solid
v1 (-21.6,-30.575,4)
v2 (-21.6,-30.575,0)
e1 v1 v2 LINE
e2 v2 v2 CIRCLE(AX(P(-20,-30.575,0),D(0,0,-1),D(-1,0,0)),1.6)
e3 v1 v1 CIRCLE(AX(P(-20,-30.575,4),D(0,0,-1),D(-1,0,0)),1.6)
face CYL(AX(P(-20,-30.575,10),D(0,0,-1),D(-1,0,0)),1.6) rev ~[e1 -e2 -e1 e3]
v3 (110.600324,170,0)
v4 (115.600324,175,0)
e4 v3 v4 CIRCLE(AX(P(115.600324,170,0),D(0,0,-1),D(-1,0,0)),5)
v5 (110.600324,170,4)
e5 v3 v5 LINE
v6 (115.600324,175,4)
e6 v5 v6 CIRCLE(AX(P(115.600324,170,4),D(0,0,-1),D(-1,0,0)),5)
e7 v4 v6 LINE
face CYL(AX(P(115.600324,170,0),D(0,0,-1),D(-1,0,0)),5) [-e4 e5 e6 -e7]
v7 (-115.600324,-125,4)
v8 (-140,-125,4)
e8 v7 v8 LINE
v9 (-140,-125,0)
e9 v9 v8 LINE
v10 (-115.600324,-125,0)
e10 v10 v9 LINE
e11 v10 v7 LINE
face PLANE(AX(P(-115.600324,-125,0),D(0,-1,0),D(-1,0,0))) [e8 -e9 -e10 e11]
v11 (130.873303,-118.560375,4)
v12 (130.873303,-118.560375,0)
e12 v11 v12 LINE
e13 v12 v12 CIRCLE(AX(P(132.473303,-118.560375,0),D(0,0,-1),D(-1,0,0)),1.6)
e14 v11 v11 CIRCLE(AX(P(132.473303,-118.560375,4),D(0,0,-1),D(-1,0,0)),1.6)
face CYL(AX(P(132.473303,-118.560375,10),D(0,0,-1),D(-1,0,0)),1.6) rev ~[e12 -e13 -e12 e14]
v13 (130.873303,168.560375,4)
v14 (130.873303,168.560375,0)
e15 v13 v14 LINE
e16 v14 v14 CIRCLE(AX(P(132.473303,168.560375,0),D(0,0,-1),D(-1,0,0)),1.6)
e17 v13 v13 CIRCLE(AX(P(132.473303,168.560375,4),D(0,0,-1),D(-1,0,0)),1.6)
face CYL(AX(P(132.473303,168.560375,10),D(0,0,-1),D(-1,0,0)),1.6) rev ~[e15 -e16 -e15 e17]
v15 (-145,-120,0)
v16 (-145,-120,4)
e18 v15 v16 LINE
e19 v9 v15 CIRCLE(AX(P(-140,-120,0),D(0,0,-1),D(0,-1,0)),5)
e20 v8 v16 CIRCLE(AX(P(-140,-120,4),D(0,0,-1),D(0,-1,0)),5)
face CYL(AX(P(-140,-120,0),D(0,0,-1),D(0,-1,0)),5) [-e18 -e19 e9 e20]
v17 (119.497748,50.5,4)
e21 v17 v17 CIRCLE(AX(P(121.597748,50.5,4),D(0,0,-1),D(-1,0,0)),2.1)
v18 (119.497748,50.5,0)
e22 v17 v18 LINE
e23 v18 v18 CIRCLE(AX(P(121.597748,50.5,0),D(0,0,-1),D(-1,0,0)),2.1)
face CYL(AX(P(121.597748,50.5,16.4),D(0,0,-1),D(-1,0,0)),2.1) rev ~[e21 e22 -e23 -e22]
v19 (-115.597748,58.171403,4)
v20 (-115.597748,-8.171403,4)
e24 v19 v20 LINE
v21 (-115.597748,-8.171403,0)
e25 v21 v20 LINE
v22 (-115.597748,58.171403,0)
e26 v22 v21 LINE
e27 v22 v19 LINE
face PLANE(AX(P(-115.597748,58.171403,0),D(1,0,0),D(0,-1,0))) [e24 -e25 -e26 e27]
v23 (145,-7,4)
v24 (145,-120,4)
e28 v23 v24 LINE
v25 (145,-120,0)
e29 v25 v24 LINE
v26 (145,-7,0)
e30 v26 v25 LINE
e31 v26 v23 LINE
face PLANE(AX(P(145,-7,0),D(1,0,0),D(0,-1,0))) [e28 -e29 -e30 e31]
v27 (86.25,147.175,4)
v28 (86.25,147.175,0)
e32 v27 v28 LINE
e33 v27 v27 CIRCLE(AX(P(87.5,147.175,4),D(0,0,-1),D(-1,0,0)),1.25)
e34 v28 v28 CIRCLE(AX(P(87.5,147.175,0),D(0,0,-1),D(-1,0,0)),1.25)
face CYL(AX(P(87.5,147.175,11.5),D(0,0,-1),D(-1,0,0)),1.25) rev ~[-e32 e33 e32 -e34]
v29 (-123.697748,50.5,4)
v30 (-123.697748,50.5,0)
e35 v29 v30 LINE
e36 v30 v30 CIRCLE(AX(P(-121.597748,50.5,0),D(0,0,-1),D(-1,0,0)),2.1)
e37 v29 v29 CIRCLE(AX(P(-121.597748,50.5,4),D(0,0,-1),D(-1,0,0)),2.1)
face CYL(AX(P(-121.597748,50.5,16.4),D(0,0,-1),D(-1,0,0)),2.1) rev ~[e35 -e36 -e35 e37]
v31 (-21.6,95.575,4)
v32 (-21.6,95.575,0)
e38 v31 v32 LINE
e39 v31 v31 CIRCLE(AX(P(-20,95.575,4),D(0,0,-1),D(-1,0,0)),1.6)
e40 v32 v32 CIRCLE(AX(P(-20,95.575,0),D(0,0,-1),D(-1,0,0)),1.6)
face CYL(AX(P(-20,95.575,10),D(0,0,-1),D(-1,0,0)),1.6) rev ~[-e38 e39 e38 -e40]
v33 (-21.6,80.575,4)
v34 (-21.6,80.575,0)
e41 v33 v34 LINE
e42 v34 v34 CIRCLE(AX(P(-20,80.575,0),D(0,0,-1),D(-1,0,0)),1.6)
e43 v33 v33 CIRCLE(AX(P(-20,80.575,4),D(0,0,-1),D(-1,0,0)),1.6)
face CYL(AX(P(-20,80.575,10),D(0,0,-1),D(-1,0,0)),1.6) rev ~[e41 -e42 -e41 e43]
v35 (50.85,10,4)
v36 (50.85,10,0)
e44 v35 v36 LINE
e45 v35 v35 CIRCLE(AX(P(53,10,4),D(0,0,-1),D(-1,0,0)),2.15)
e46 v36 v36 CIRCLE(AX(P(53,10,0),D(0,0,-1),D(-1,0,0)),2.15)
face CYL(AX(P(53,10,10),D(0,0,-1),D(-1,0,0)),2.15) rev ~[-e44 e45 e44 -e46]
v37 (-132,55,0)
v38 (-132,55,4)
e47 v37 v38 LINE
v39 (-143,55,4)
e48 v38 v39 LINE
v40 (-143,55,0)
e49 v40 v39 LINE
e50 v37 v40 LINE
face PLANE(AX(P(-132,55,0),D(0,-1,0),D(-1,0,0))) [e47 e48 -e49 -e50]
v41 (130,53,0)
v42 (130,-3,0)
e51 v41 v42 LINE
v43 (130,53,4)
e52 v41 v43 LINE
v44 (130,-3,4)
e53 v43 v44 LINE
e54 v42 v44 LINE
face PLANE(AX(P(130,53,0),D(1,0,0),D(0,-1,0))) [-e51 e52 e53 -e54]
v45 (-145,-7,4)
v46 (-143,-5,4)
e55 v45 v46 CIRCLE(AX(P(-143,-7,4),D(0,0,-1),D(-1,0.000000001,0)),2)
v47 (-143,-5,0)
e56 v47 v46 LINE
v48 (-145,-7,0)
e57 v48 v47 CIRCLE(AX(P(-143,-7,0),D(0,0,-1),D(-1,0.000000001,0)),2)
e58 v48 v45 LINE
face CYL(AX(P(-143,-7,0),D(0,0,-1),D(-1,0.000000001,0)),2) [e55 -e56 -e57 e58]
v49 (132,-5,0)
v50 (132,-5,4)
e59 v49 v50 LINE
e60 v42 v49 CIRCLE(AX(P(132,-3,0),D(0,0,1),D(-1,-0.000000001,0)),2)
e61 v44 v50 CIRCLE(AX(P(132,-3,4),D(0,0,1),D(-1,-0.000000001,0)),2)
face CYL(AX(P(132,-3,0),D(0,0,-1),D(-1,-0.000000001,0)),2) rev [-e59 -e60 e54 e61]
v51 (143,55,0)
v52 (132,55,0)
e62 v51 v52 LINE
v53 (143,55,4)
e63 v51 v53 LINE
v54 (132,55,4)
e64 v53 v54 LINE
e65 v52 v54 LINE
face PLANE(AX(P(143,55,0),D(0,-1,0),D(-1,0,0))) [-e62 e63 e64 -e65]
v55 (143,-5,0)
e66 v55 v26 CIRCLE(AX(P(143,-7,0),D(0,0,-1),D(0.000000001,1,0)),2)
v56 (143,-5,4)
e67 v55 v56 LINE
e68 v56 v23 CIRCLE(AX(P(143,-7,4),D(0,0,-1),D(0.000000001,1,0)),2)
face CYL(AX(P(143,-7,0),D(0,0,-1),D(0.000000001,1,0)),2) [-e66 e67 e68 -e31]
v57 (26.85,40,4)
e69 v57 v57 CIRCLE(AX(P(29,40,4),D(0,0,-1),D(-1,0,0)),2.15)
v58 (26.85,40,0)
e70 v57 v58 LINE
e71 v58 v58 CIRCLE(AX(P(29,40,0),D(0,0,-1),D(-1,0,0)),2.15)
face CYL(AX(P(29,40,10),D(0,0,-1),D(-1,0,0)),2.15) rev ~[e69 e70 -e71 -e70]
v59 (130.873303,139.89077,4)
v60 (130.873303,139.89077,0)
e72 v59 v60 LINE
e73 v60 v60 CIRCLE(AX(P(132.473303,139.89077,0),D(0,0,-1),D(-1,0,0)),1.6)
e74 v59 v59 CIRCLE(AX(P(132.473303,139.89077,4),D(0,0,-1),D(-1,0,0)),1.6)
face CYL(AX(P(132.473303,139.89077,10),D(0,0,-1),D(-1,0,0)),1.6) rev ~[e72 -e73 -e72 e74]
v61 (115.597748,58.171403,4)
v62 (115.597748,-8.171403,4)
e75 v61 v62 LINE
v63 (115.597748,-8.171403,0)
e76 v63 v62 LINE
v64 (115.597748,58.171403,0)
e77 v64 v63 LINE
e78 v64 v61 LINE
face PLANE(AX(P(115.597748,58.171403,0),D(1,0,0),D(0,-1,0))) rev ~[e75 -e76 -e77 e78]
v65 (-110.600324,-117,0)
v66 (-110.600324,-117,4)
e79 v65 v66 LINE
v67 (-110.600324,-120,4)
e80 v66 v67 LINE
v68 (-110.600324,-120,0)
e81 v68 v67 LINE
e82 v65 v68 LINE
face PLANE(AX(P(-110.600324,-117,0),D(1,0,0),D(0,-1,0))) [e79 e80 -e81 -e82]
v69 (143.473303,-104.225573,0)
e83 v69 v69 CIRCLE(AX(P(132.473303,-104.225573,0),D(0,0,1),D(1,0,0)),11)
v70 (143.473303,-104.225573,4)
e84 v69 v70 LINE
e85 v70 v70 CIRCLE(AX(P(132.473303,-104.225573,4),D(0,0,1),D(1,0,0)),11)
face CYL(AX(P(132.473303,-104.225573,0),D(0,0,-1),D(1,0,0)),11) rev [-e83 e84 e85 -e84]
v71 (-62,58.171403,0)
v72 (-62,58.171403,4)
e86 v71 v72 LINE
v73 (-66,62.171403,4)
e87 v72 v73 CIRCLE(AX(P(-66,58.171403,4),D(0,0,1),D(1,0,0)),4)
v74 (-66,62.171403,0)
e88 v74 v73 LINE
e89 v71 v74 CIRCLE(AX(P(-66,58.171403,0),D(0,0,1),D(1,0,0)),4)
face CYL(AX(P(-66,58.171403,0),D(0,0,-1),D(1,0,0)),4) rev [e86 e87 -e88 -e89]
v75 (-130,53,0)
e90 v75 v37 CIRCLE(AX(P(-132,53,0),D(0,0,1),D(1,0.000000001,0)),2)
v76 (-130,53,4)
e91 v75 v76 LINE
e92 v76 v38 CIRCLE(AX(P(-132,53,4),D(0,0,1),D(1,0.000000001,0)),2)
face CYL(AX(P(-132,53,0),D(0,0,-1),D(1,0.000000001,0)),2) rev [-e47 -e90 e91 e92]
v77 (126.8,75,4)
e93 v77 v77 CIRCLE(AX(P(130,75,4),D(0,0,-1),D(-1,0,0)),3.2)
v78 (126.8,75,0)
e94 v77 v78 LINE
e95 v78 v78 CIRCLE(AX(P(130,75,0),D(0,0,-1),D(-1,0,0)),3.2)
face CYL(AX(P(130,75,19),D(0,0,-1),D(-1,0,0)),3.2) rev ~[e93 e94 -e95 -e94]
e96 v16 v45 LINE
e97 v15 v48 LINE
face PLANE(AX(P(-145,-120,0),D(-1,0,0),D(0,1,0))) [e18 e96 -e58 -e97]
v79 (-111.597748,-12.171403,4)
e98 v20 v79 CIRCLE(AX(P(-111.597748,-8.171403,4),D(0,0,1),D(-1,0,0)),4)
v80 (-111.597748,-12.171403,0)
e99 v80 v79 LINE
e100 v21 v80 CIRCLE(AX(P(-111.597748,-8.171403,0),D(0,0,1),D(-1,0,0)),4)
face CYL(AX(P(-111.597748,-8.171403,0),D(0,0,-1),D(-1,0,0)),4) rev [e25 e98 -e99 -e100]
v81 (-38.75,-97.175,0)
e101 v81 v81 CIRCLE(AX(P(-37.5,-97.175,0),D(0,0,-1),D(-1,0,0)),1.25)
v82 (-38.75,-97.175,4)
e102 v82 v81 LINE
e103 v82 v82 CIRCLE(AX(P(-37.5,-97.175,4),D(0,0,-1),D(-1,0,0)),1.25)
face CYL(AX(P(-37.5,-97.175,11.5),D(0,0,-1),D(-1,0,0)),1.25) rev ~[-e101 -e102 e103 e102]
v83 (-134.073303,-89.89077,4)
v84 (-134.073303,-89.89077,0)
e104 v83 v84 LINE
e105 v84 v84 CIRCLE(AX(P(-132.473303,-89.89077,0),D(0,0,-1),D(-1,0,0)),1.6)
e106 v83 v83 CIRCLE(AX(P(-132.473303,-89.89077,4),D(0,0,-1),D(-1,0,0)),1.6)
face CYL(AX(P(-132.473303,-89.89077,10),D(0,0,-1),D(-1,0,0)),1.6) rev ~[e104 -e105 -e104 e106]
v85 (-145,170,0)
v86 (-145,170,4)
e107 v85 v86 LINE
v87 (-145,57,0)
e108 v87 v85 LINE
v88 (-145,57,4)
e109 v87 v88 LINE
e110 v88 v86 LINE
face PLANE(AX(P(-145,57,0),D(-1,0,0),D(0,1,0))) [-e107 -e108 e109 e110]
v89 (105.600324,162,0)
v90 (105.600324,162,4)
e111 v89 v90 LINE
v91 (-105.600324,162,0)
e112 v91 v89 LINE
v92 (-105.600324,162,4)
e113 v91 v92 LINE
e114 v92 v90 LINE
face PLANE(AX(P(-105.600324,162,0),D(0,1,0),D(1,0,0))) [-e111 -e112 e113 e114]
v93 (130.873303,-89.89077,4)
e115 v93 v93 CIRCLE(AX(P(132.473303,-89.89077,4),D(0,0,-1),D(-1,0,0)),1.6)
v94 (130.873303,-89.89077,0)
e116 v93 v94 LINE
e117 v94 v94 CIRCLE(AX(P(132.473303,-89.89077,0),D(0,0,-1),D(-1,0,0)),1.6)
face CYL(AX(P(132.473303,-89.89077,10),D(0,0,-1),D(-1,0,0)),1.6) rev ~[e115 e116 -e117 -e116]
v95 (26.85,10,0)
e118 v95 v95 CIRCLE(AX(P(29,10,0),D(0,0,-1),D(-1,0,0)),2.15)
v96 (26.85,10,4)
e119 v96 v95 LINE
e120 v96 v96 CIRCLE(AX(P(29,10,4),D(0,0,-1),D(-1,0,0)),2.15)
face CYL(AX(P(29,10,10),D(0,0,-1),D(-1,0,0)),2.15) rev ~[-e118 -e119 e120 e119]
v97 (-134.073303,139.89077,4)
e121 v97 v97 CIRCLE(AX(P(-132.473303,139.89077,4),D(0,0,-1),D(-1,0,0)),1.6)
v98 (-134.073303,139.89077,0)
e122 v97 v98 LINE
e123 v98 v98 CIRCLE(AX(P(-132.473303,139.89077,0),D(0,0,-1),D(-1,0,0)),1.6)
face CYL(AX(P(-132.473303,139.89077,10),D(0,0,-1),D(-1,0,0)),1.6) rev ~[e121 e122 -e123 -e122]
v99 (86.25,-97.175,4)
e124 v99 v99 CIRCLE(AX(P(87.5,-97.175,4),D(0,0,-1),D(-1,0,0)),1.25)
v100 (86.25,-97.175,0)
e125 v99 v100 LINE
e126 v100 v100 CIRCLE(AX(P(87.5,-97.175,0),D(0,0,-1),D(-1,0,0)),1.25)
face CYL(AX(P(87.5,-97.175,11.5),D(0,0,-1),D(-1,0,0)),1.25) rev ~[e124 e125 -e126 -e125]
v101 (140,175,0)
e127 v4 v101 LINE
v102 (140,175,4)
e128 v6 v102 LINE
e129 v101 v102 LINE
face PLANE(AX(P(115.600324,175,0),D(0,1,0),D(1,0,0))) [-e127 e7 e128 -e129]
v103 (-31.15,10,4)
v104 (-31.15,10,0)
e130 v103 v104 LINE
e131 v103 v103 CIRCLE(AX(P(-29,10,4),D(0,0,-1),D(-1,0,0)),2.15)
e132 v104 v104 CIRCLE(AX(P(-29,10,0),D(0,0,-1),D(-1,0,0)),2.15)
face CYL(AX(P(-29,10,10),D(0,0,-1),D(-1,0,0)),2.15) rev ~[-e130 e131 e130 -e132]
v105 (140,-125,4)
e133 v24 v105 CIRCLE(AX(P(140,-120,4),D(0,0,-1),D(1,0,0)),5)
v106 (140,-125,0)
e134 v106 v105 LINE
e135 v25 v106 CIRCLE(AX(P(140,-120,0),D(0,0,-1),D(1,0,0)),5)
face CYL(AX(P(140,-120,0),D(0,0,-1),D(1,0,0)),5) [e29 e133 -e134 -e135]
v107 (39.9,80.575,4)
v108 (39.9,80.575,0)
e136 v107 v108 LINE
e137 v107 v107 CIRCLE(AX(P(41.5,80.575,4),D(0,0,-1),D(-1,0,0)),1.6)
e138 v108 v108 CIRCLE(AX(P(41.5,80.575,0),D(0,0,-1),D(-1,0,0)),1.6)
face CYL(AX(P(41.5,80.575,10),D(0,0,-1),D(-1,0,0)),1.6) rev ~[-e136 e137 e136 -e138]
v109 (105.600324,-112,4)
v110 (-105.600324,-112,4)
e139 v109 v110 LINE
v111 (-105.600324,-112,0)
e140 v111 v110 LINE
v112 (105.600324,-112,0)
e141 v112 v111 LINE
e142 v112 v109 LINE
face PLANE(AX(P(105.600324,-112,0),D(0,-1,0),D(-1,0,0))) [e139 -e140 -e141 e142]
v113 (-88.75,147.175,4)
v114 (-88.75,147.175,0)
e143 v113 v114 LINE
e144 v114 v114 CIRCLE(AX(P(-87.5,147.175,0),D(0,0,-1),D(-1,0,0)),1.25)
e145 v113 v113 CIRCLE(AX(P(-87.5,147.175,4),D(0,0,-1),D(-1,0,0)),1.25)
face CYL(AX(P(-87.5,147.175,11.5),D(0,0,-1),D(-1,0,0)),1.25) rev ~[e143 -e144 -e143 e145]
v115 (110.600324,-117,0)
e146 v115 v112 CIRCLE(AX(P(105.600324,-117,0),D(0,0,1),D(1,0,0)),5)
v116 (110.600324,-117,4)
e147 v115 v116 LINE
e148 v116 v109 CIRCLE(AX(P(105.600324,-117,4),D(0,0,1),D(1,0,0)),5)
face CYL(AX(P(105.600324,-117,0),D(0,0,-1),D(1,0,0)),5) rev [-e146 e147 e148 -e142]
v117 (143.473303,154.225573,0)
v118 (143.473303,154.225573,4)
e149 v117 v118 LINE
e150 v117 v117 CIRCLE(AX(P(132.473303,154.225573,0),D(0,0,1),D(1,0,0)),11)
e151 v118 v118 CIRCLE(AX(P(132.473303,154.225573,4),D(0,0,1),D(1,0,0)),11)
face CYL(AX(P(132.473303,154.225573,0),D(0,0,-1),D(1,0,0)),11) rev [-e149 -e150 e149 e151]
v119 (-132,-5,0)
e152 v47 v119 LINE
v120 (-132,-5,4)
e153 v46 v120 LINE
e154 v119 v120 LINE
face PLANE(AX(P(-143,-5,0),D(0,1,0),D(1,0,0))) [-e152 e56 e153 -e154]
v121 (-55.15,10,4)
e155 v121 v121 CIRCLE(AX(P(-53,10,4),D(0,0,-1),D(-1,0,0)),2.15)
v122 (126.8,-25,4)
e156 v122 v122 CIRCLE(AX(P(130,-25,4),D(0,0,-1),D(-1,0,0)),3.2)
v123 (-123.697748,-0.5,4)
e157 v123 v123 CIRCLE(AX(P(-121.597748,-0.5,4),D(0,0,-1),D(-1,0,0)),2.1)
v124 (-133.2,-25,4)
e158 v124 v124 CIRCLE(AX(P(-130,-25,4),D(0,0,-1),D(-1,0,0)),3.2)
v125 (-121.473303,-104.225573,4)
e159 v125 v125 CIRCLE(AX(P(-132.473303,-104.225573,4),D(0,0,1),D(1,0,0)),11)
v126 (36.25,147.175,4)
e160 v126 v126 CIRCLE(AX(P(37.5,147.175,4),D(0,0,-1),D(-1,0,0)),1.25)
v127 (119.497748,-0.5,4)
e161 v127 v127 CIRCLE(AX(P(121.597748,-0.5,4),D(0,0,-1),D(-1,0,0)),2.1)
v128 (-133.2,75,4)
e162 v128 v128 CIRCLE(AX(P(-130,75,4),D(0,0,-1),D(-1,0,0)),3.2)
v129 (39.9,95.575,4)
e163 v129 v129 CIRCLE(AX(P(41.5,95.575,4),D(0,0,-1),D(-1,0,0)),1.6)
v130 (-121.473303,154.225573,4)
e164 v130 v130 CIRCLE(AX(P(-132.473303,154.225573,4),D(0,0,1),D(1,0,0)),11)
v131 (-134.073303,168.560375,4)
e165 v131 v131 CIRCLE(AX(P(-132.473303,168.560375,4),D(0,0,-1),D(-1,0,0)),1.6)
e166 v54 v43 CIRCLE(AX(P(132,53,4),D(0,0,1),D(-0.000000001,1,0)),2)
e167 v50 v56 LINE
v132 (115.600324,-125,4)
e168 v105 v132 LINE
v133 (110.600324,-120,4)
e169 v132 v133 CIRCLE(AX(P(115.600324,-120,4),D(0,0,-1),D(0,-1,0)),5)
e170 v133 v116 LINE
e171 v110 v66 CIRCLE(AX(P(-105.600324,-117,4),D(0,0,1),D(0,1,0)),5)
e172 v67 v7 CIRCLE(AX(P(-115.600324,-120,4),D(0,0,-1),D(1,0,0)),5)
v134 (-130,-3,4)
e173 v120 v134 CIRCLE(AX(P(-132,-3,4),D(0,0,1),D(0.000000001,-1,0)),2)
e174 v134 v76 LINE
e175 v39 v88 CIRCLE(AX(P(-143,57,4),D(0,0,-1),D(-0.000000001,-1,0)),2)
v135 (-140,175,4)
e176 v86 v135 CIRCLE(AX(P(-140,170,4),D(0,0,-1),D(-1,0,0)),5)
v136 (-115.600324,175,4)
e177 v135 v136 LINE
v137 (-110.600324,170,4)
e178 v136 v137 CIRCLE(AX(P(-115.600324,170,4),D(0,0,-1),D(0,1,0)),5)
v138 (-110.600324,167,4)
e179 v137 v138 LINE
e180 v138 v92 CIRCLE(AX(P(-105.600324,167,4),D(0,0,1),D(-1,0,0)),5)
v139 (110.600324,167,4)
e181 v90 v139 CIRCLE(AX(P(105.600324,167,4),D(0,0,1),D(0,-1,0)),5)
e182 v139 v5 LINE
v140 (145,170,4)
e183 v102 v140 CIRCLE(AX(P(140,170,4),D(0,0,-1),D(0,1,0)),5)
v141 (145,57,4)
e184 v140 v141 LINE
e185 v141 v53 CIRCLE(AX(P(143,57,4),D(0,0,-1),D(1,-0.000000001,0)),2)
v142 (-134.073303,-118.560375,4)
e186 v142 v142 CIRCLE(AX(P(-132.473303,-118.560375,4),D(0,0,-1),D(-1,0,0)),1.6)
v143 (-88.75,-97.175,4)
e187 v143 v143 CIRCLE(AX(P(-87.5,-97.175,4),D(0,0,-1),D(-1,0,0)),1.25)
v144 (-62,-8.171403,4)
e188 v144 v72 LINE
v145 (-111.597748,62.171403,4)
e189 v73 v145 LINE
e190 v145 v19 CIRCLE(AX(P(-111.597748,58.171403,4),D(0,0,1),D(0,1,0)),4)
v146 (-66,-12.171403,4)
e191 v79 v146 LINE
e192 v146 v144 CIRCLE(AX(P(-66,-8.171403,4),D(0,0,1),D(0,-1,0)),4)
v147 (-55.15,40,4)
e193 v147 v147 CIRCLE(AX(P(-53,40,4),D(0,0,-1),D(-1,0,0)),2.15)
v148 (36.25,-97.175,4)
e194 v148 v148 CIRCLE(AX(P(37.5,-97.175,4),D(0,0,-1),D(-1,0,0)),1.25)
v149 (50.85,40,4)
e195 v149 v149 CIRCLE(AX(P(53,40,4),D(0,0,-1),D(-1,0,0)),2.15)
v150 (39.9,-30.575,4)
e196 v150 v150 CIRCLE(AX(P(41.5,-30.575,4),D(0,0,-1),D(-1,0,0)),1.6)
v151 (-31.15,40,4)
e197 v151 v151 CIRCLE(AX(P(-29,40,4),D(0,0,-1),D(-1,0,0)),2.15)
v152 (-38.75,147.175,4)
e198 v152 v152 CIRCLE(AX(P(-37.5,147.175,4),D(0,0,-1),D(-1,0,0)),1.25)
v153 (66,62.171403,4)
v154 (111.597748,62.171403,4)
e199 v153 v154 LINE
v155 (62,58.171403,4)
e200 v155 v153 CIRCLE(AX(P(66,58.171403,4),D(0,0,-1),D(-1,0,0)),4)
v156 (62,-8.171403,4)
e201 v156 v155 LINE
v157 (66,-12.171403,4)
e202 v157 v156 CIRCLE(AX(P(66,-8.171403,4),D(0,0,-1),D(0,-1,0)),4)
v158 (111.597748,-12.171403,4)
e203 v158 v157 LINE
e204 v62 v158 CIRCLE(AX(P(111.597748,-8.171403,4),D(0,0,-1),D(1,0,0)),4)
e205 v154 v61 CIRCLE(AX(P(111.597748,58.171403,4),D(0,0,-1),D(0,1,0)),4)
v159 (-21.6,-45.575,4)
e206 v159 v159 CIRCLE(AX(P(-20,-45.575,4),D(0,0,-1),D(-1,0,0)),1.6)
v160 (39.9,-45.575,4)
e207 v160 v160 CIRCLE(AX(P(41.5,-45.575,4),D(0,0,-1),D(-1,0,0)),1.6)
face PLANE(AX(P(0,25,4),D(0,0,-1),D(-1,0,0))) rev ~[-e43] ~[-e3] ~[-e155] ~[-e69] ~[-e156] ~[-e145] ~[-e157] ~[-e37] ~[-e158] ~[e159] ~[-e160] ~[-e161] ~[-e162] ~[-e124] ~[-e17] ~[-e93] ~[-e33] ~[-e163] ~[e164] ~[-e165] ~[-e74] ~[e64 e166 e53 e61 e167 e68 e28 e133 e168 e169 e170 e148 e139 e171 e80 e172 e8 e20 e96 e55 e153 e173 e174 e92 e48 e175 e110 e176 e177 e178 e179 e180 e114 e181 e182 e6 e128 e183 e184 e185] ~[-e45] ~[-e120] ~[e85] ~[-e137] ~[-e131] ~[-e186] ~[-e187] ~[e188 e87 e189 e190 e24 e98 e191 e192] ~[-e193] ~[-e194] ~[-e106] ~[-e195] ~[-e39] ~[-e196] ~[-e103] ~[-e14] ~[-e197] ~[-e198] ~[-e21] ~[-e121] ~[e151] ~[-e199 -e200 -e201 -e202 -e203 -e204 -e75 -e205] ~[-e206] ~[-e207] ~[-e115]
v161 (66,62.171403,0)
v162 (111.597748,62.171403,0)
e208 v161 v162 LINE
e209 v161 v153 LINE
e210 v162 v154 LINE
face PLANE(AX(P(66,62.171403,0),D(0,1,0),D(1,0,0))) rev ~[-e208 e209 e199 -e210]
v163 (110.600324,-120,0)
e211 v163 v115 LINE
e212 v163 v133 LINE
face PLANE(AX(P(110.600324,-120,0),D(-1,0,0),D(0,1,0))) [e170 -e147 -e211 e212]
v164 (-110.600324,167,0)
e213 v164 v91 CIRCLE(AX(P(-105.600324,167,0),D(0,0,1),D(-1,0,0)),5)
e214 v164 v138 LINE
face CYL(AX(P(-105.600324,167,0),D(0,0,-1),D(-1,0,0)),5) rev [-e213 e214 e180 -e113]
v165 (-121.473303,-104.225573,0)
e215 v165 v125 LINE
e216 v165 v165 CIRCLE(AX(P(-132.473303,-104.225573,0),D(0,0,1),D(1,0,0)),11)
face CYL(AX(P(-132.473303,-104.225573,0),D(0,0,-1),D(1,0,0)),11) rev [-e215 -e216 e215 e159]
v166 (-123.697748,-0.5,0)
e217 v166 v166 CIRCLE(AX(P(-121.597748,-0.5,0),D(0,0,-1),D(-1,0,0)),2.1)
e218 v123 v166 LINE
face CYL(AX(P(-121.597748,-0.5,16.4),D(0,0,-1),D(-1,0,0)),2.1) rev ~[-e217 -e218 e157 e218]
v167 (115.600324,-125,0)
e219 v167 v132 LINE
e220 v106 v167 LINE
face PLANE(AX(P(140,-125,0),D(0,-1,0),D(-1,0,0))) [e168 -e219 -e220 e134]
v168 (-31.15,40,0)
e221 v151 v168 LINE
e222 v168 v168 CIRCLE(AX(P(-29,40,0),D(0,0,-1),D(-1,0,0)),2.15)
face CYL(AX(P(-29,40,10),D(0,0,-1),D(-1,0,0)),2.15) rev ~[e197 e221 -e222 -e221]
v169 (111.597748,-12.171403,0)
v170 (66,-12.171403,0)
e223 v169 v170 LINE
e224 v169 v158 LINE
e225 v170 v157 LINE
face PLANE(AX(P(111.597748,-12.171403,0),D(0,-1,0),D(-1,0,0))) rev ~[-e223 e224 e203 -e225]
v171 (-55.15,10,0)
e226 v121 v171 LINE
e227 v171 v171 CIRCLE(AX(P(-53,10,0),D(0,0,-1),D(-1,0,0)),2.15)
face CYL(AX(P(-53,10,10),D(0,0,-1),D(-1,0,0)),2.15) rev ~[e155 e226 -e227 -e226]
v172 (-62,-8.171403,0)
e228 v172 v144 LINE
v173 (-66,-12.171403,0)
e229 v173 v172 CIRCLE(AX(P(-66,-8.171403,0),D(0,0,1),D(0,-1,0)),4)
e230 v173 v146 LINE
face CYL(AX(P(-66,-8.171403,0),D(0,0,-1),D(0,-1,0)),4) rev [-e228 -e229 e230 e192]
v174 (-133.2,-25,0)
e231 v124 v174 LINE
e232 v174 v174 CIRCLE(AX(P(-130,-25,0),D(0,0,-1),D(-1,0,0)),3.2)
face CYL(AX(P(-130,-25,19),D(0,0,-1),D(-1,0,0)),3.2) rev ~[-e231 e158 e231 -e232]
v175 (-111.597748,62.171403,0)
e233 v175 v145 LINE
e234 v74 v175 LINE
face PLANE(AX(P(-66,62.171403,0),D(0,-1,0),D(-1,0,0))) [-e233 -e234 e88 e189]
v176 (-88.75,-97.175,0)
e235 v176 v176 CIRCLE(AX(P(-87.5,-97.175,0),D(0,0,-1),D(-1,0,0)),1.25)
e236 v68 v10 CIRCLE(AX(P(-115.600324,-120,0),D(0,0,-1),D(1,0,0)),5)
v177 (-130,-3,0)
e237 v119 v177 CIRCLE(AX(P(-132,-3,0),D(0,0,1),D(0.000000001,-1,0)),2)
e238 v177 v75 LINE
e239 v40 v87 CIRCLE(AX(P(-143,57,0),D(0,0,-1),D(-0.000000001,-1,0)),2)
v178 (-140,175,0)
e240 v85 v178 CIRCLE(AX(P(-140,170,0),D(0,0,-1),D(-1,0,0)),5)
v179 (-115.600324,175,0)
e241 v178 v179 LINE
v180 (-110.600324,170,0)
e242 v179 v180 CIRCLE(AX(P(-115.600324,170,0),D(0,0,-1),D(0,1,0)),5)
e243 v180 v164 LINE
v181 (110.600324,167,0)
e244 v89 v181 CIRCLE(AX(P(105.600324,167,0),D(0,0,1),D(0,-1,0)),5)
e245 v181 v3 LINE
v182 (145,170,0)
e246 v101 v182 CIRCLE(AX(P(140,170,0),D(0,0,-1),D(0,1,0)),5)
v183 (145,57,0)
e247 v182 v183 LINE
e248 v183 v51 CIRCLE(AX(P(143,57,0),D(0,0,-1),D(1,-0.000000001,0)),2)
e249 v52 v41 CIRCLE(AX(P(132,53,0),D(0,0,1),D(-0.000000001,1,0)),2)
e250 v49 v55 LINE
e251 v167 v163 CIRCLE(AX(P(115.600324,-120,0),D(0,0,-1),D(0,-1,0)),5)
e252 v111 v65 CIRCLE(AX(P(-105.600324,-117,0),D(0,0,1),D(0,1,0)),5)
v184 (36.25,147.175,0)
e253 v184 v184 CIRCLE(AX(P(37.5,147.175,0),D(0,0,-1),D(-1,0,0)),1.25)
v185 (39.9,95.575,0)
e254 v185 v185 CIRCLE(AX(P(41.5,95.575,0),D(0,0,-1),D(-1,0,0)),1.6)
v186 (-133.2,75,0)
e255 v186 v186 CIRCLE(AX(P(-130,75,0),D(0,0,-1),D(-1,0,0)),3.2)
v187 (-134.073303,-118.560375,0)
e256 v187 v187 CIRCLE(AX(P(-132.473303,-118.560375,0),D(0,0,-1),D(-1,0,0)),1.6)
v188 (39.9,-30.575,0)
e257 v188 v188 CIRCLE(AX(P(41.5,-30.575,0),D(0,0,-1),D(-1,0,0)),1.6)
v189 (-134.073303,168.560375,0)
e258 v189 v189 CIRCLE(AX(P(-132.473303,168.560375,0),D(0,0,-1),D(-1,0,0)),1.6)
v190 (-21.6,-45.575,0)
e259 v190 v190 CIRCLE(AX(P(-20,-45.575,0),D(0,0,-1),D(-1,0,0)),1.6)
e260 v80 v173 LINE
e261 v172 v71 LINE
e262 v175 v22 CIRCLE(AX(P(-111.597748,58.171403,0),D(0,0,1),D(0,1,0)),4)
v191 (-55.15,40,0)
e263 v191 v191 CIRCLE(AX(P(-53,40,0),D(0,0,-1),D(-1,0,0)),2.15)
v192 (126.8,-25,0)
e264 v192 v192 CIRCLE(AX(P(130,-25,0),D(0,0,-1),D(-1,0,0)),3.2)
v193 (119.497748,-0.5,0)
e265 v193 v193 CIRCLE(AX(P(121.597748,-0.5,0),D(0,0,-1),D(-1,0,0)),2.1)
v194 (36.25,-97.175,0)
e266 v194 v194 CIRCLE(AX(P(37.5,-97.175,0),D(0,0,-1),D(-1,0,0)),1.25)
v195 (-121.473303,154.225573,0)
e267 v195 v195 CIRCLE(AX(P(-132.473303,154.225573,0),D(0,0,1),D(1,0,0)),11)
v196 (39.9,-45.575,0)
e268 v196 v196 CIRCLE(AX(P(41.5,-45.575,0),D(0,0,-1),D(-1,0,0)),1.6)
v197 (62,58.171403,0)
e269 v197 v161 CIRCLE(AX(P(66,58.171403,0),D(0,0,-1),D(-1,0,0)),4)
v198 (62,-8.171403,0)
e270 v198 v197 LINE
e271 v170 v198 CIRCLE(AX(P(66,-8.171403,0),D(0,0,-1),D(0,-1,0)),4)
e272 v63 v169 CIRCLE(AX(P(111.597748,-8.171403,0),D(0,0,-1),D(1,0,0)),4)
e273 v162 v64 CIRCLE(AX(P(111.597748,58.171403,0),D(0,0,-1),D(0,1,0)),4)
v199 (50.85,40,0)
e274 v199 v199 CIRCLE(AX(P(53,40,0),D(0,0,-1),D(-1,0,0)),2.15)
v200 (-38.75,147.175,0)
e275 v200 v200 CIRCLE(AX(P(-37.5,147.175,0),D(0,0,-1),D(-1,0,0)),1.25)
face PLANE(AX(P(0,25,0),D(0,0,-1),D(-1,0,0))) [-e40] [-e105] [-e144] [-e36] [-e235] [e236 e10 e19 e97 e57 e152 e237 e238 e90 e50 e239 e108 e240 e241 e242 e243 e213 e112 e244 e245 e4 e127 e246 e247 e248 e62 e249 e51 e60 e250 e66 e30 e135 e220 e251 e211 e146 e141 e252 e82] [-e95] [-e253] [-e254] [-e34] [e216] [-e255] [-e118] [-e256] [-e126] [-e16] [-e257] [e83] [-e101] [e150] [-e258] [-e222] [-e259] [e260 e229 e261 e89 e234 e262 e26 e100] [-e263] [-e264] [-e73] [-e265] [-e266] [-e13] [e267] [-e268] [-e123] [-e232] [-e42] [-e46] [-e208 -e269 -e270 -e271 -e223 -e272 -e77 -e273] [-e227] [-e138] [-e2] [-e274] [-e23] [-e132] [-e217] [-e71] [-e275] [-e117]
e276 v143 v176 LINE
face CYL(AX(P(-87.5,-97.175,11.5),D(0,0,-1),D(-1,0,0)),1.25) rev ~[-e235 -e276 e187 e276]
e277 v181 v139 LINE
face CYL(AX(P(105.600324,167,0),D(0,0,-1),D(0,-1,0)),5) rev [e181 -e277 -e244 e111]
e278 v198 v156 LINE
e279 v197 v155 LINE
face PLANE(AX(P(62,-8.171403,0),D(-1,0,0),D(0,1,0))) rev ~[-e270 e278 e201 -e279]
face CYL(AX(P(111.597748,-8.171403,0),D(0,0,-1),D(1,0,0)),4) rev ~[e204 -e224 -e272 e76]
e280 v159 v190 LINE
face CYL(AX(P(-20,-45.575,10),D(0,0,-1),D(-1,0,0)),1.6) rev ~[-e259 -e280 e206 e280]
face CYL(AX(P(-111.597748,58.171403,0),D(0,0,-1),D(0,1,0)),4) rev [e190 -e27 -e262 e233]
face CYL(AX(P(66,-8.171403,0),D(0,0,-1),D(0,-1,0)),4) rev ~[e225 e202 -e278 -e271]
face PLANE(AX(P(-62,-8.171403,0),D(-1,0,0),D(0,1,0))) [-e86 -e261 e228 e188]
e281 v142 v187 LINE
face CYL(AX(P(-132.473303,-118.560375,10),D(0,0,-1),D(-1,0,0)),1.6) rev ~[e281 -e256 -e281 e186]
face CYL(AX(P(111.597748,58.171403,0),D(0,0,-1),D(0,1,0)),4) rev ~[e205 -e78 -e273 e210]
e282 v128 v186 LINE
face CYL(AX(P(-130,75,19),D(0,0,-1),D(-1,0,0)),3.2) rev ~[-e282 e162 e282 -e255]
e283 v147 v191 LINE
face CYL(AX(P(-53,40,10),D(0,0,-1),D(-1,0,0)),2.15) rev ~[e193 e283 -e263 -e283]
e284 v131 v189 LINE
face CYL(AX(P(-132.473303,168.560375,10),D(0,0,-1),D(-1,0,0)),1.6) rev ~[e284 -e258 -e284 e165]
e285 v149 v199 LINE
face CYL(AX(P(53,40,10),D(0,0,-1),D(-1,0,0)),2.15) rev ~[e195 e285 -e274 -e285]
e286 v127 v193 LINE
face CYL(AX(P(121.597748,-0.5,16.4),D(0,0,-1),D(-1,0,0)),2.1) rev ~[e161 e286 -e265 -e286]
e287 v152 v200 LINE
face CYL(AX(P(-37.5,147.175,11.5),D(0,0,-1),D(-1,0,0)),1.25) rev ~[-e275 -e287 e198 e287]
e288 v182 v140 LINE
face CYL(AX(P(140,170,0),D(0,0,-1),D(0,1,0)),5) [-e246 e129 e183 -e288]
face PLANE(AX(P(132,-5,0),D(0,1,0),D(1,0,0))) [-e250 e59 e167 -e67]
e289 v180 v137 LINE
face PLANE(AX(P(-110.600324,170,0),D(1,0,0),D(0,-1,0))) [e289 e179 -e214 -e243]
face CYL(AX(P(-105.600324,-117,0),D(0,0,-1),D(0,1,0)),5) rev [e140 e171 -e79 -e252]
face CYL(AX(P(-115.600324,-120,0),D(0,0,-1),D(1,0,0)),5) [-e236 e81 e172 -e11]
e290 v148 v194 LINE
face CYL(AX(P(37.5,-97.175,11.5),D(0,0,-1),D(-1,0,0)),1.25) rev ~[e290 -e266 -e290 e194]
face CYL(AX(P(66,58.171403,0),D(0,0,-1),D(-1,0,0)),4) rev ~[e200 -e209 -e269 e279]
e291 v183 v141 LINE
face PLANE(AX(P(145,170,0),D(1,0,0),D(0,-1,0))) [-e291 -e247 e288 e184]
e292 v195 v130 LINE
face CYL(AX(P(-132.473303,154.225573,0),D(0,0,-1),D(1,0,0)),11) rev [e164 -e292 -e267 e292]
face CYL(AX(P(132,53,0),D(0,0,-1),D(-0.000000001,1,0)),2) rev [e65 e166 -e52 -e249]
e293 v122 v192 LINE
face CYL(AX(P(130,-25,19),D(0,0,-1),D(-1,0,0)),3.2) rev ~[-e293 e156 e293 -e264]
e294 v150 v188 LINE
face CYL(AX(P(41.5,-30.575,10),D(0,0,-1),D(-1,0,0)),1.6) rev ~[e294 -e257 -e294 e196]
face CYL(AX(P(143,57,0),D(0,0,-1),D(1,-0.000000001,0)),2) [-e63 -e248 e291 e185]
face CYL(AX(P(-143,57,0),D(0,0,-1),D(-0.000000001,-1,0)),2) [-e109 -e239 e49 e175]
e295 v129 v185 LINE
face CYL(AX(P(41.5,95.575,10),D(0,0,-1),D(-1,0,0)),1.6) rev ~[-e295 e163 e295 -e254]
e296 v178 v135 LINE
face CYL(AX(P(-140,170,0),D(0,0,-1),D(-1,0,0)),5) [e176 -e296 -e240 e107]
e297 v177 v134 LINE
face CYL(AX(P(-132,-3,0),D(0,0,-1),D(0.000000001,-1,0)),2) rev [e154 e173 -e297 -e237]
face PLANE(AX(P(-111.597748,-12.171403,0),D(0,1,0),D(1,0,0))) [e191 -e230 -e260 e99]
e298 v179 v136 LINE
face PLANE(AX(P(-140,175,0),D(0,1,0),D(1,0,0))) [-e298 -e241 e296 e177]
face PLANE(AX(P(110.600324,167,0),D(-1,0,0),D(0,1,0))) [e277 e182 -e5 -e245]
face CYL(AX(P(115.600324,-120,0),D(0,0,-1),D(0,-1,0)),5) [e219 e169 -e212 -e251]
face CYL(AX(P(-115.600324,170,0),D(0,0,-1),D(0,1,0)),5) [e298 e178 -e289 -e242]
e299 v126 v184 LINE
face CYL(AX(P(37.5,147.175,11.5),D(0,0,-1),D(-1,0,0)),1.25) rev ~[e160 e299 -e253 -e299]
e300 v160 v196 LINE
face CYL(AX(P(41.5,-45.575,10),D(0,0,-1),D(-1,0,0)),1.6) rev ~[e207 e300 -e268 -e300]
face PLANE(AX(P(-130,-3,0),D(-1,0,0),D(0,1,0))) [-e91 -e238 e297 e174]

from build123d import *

# Parameters (mm, degrees)
SKETCH2_R                = 1.5
SKETCH2_R_2              = 11
SKETCH2_R_3              = 1.65
SKETCH2_R_4              = 1
BOSS_EXTRUDE1_DEPTH      = 4
M4_CLEARANCE_HOLE1_D     = 4.3
M4_CLEARANCE_HOLE1_DEPTH = 6
M4_CLEARANCE_HOLE1_TIP   = 1.291850331
M3_CLEARANCE_HOLE2_D     = 3.2
M3_CLEARANCE_HOLE2_DEPTH = 6
M3_CLEARANCE_HOLE2_TIP   = 0.96137699
M5_TAPPED_HOLE1_D        = 4.2
M5_TAPPED_HOLE1_DEPTH    = 12.4
M5_TAPPED_HOLE1_TIP      = 1.2618073
M6_CLEARANCE_HOLE1_D     = 6.4
M6_CLEARANCE_HOLE1_DEPTH = 15
M6_CLEARANCE_HOLE1_TIP   = 1.922753981
M3_TAPPED_HOLE2_D        = 2.5
M3_TAPPED_HOLE2_DEPTH    = 7.5
M3_TAPPED_HOLE2_TIP      = 0.751075774


with BuildPart() as part:
    # Sketch2 → Boss-Extrude1 (new body)
    with BuildSketch(Plane.XY):
        with BuildLine():
            Line((-140, 175), (-115.60032364, 175))
            ThreePointArc((-115.60032364, 175), (-112.064789734, 173.535533906), (-110.60032364, 170))
            Line((-110.60032364, 170), (-110.60032364, 167))
            ThreePointArc((-110.60032364, 167), (-109.135857546, 163.464466094), (-105.60032364, 162))
            Line((-105.60032364, 162), (105.60032364, 162))
            ThreePointArc((105.60032364, 162), (109.135857546, 163.464466094), (110.60032364, 167))
            Line((110.60032364, 167), (110.60032364, 170))
            ThreePointArc((110.60032364, 170), (112.064789734, 173.535533906), (115.60032364, 175))
            Line((115.60032364, 175), (140, 175))
            ThreePointArc((140, 175), (143.535533906, 173.535533906), (145, 170))
            Line((145, 170), (145, 57))
            ThreePointArc((145, 57), (144.414213562, 55.585786438), (143, 55))
            Line((143, 55), (132, 55))
            ThreePointArc((132, 55), (130.585786438, 54.414213562), (130, 53))
            Line((130, 53), (130, -3))
            ThreePointArc((130, -3), (130.585786438, -4.414213562), (132, -5))
            Line((132, -5), (143, -5))
            ThreePointArc((143, -5), (144.414213562, -5.585786438), (145, -7))
            Line((145, -7), (145, -120))
            ThreePointArc((145, -120), (143.535533906, -123.535533906), (140, -125))
            Line((140, -125), (115.60032364, -125))
            ThreePointArc((115.60032364, -125), (112.064789734, -123.535533906), (110.60032364, -120))
            Line((110.60032364, -120), (110.60032364, -117))
            ThreePointArc((110.60032364, -117), (109.135857546, -113.464466094), (105.60032364, -112))
            Line((105.60032364, -112), (-105.60032364, -112))
            ThreePointArc((-105.60032364, -112), (-109.135857546, -113.464466094), (-110.60032364, -117))
            Line((-110.60032364, -117), (-110.60032364, -120))
            ThreePointArc((-110.60032364, -120), (-112.064789734, -123.535533906), (-115.60032364, -125))
            Line((-115.60032364, -125), (-140, -125))
            ThreePointArc((-140, -125), (-143.535533906, -123.535533906), (-145, -120))
            Line((-145, -120), (-145, -7))
            ThreePointArc((-145, -7), (-144.414213562, -5.585786438), (-143, -5))
            Line((-143, -5), (-132, -5))
            ThreePointArc((-132, -5), (-130.585786438, -4.414213562), (-130, -3))
            Line((-130, -3), (-130, 53))
            ThreePointArc((-130, 53), (-130.585786438, 54.414213562), (-132, 55))
            Line((-132, 55), (-143, 55))
            ThreePointArc((-143, 55), (-144.414213562, 55.585786438), (-145, 57))
            Line((-145, 57), (-145, 170))
            ThreePointArc((-145, 170), (-143.535533906, 173.535533906), (-140, 175))
        make_face()
        with Locations((-132.473303105, 168.56037538)):
            Circle(SKETCH2_R, mode=Mode.SUBTRACT)
        with Locations((-132.473303105, 139.890769728)):
            Circle(SKETCH2_R, mode=Mode.SUBTRACT)
        with Locations((132.473303105, 168.56037538)):
            Circle(SKETCH2_R, mode=Mode.SUBTRACT)
        with Locations((132.473303105, 139.890769728)):
            Circle(SKETCH2_R, mode=Mode.SUBTRACT)
        with Locations((132.473303105, 154.225572554)):
            Circle(SKETCH2_R_2, mode=Mode.SUBTRACT)
        with Locations((-132.473303105, 154.225572554)):
            Circle(SKETCH2_R_2, mode=Mode.SUBTRACT)
        with Locations((121.59774802, -0.5)):
            Circle(SKETCH2_R_3, mode=Mode.SUBTRACT)
        with Locations((121.59774802, 50.5)):
            Circle(SKETCH2_R_3, mode=Mode.SUBTRACT)
        with Locations((-121.59774802, -0.5)):
            Circle(SKETCH2_R_3, mode=Mode.SUBTRACT)
        with Locations((-121.59774802, 50.5)):
            Circle(SKETCH2_R_3, mode=Mode.SUBTRACT)
        with Locations((-29, 10)):
            Circle(SKETCH2_R, mode=Mode.SUBTRACT)
        with Locations((-29, 40)):
            Circle(SKETCH2_R, mode=Mode.SUBTRACT)
        with Locations((-53, 40)):
            Circle(SKETCH2_R, mode=Mode.SUBTRACT)
        with Locations((-53, 10)):
            Circle(SKETCH2_R, mode=Mode.SUBTRACT)
        with Locations((53, 10)):
            Circle(SKETCH2_R, mode=Mode.SUBTRACT)
        with Locations((29, 10)):
            Circle(SKETCH2_R, mode=Mode.SUBTRACT)
        with Locations((29, 40)):
            Circle(SKETCH2_R, mode=Mode.SUBTRACT)
        with Locations((53, 40)):
            Circle(SKETCH2_R, mode=Mode.SUBTRACT)
        with Locations((132.473303105, -118.56037538)):
            Circle(SKETCH2_R, mode=Mode.SUBTRACT)
        with Locations((132.473303105, -89.890769728)):
            Circle(SKETCH2_R, mode=Mode.SUBTRACT)
        with Locations((132.473303105, -104.225572554)):
            Circle(SKETCH2_R_2, mode=Mode.SUBTRACT)
        with Locations((-132.473303105, -104.225572554)):
            Circle(SKETCH2_R_2, mode=Mode.SUBTRACT)
        with Locations((-132.473303105, -89.890769728)):
            Circle(SKETCH2_R, mode=Mode.SUBTRACT)
        with Locations((-132.473303105, -118.56037538)):
            Circle(SKETCH2_R, mode=Mode.SUBTRACT)
        with Locations((130, 75)):
            Circle(SKETCH2_R, mode=Mode.SUBTRACT)
        with Locations((41.5, 95.575)):
            Circle(SKETCH2_R_4, mode=Mode.SUBTRACT)
        with Locations((41.5, 80.575)):
            Circle(SKETCH2_R_4, mode=Mode.SUBTRACT)
        with Locations((-20, 80.575)):
            Circle(SKETCH2_R_4, mode=Mode.SUBTRACT)
        with Locations((-20, 95.575)):
            Circle(SKETCH2_R_4, mode=Mode.SUBTRACT)
        with Locations((-20, -45.575)):
            Circle(SKETCH2_R_4, mode=Mode.SUBTRACT)
        with Locations((-20, -30.575)):
            Circle(SKETCH2_R_4, mode=Mode.SUBTRACT)
        with Locations((41.5, -30.575)):
            Circle(SKETCH2_R_4, mode=Mode.SUBTRACT)
        with Locations((41.5, -45.575)):
            Circle(SKETCH2_R_4, mode=Mode.SUBTRACT)
        with Locations((130, -25)):
            Circle(SKETCH2_R, mode=Mode.SUBTRACT)
        with Locations((-130, 75)):
            Circle(SKETCH2_R, mode=Mode.SUBTRACT)
        with Locations((-130, -25)):
            Circle(SKETCH2_R, mode=Mode.SUBTRACT)
        with Locations((87.5, 147.175)):
            Circle(SKETCH2_R_4, mode=Mode.SUBTRACT)
        with Locations((37.5, 147.175)):
            Circle(SKETCH2_R_4, mode=Mode.SUBTRACT)
        with Locations((-37.5, 147.175)):
            Circle(SKETCH2_R_4, mode=Mode.SUBTRACT)
        with Locations((-87.5, 147.175)):
            Circle(SKETCH2_R_4, mode=Mode.SUBTRACT)
        with Locations((-87.5, -97.175)):
            Circle(SKETCH2_R_4, mode=Mode.SUBTRACT)
        with Locations((-37.5, -97.175)):
            Circle(SKETCH2_R_4, mode=Mode.SUBTRACT)
        with Locations((37.5, -97.175)):
            Circle(SKETCH2_R_4, mode=Mode.SUBTRACT)
        with Locations((87.5, -97.175)):
            Circle(SKETCH2_R_4, mode=Mode.SUBTRACT)
        with BuildLine():
            Line((-66, 62.171403079), (-111.59774802, 62.171403079))
            ThreePointArc((-111.59774802, 62.171403079), (-114.426175145, 60.999830204), (-115.59774802, 58.171403079))
            Line((-115.59774802, 58.171403079), (-115.59774802, -8.171403079))
            ThreePointArc((-115.59774802, -8.171403079), (-114.426175145, -10.999830204), (-111.59774802, -12.171403079))
            Line((-111.59774802, -12.171403079), (-66, -12.171403079))
            ThreePointArc((-66, -12.171403079), (-63.171572875, -10.999830204), (-62, -8.171403079))
            Line((-62, -8.171403079), (-62, 58.171403079))
            ThreePointArc((-62, 58.171403079), (-63.171572875, 60.999830204), (-66, 62.171403079))
        make_face(mode=Mode.SUBTRACT)
        with BuildLine():
            Line((66, 62.171403079), (111.59774802, 62.171403079))
            ThreePointArc((111.59774802, 62.171403079), (114.426175145, 60.999830204), (115.59774802, 58.171403079))
            Line((115.59774802, 58.171403079), (115.59774802, -8.171403079))
            ThreePointArc((115.59774802, -8.171403079), (114.426175145, -10.999830204), (111.59774802, -12.171403079))
            Line((111.59774802, -12.171403079), (66, -12.171403079))
            ThreePointArc((66, -12.171403079), (63.171572875, -10.999830204), (62, -8.171403079))
            Line((62, -8.171403079), (62, 58.171403079))
            ThreePointArc((62, 58.171403079), (63.171572875, 60.999830204), (66, 62.171403079))
        make_face(mode=Mode.SUBTRACT)
    extrude(amount=BOSS_EXTRUDE1_DEPTH)

    # M4 Clearance Hole1
    with Locations(Plane(origin=(-53, 40, 4), x_dir=(1, 0, 0), z_dir=(0, 0, 1))):
        with Locations((0, 0), (24, 0), (24, -30), (0, -30), (82, 0), (106, 0), (106, -30), (82, -30)):
            Hole(M4_CLEARANCE_HOLE1_D / 2, depth=M4_CLEARANCE_HOLE1_DEPTH)
            with Locations((0, 0, -(M4_CLEARANCE_HOLE1_DEPTH + M4_CLEARANCE_HOLE1_TIP / 2))):  # 118° drill point
                Cone(0, M4_CLEARANCE_HOLE1_D / 2, M4_CLEARANCE_HOLE1_TIP, mode=Mode.SUBTRACT)

    # M3 Clearance Hole2
    with Locations(Plane(origin=(-132.473303105, 168.56037538, 4), x_dir=(1, 0, 0), z_dir=(0, 0, 1))):
        with Locations((0, 0), (0, -28.669605652), (264.94660621, -28.669605652), (264.94660621, 0), (173.973303105, -87.98537538), (173.973303105, -72.98537538), (112.473303105, -72.98537538), (112.473303105, -87.98537538), (173.973303105, -199.13537538), (173.973303105, -214.13537538), (112.473303105, -214.13537538), (112.473303105, -199.13537538), (264.94660621, -258.451145108), (264.94660621, -287.12075076), (0, -287.12075076), (0, -258.451145108)):
            Hole(M3_CLEARANCE_HOLE2_D / 2, depth=M3_CLEARANCE_HOLE2_DEPTH)
            with Locations((0, 0, -(M3_CLEARANCE_HOLE2_DEPTH + M3_CLEARANCE_HOLE2_TIP / 2))):  # 118° drill point
                Cone(0, M3_CLEARANCE_HOLE2_D / 2, M3_CLEARANCE_HOLE2_TIP, mode=Mode.SUBTRACT)

    # M5 Tapped Hole1
    with Locations(Plane(origin=(-121.59774802, 50.5, 4), x_dir=(1, 0, 0), z_dir=(0, 0, 1))):
        with Locations((0, 0), (0, -51), (243.19549604, -51), (243.19549604, 0)):
            Hole(M5_TAPPED_HOLE1_D / 2, depth=M5_TAPPED_HOLE1_DEPTH)
            with Locations((0, 0, -(M5_TAPPED_HOLE1_DEPTH + M5_TAPPED_HOLE1_TIP / 2))):  # 118° drill point
                Cone(0, M5_TAPPED_HOLE1_D / 2, M5_TAPPED_HOLE1_TIP, mode=Mode.SUBTRACT)

    # M6 Clearance Hole1
    with Locations(Plane(origin=(-130, 75, 4), x_dir=(1, 0, 0), z_dir=(0, 0, 1))):
        with Locations((0, 0), (260, 0), (260, -100), (0, -100)):
            Hole(M6_CLEARANCE_HOLE1_D / 2, depth=M6_CLEARANCE_HOLE1_DEPTH)
            with Locations((0, 0, -(M6_CLEARANCE_HOLE1_DEPTH + M6_CLEARANCE_HOLE1_TIP / 2))):  # 118° drill point
                Cone(0, M6_CLEARANCE_HOLE1_D / 2, M6_CLEARANCE_HOLE1_TIP, mode=Mode.SUBTRACT)

    # M3 Tapped Hole2
    with Locations(Plane(origin=(-87.5, 147.175, 4), x_dir=(1, 0, 0), z_dir=(0, 0, 1))):
        with Locations((0, 0), (50, 0), (125, 0), (175, 0), (175, -244.35), (125, -244.35), (50, -244.35), (0, -244.35)):
            Hole(M3_TAPPED_HOLE2_D / 2, depth=M3_TAPPED_HOLE2_DEPTH)
            with Locations((0, 0, -(M3_TAPPED_HOLE2_DEPTH + M3_TAPPED_HOLE2_TIP / 2))):  # 118° drill point
                Cone(0, M3_TAPPED_HOLE2_D / 2, M3_TAPPED_HOLE2_TIP, mode=Mode.SUBTRACT)


solid = part.part
